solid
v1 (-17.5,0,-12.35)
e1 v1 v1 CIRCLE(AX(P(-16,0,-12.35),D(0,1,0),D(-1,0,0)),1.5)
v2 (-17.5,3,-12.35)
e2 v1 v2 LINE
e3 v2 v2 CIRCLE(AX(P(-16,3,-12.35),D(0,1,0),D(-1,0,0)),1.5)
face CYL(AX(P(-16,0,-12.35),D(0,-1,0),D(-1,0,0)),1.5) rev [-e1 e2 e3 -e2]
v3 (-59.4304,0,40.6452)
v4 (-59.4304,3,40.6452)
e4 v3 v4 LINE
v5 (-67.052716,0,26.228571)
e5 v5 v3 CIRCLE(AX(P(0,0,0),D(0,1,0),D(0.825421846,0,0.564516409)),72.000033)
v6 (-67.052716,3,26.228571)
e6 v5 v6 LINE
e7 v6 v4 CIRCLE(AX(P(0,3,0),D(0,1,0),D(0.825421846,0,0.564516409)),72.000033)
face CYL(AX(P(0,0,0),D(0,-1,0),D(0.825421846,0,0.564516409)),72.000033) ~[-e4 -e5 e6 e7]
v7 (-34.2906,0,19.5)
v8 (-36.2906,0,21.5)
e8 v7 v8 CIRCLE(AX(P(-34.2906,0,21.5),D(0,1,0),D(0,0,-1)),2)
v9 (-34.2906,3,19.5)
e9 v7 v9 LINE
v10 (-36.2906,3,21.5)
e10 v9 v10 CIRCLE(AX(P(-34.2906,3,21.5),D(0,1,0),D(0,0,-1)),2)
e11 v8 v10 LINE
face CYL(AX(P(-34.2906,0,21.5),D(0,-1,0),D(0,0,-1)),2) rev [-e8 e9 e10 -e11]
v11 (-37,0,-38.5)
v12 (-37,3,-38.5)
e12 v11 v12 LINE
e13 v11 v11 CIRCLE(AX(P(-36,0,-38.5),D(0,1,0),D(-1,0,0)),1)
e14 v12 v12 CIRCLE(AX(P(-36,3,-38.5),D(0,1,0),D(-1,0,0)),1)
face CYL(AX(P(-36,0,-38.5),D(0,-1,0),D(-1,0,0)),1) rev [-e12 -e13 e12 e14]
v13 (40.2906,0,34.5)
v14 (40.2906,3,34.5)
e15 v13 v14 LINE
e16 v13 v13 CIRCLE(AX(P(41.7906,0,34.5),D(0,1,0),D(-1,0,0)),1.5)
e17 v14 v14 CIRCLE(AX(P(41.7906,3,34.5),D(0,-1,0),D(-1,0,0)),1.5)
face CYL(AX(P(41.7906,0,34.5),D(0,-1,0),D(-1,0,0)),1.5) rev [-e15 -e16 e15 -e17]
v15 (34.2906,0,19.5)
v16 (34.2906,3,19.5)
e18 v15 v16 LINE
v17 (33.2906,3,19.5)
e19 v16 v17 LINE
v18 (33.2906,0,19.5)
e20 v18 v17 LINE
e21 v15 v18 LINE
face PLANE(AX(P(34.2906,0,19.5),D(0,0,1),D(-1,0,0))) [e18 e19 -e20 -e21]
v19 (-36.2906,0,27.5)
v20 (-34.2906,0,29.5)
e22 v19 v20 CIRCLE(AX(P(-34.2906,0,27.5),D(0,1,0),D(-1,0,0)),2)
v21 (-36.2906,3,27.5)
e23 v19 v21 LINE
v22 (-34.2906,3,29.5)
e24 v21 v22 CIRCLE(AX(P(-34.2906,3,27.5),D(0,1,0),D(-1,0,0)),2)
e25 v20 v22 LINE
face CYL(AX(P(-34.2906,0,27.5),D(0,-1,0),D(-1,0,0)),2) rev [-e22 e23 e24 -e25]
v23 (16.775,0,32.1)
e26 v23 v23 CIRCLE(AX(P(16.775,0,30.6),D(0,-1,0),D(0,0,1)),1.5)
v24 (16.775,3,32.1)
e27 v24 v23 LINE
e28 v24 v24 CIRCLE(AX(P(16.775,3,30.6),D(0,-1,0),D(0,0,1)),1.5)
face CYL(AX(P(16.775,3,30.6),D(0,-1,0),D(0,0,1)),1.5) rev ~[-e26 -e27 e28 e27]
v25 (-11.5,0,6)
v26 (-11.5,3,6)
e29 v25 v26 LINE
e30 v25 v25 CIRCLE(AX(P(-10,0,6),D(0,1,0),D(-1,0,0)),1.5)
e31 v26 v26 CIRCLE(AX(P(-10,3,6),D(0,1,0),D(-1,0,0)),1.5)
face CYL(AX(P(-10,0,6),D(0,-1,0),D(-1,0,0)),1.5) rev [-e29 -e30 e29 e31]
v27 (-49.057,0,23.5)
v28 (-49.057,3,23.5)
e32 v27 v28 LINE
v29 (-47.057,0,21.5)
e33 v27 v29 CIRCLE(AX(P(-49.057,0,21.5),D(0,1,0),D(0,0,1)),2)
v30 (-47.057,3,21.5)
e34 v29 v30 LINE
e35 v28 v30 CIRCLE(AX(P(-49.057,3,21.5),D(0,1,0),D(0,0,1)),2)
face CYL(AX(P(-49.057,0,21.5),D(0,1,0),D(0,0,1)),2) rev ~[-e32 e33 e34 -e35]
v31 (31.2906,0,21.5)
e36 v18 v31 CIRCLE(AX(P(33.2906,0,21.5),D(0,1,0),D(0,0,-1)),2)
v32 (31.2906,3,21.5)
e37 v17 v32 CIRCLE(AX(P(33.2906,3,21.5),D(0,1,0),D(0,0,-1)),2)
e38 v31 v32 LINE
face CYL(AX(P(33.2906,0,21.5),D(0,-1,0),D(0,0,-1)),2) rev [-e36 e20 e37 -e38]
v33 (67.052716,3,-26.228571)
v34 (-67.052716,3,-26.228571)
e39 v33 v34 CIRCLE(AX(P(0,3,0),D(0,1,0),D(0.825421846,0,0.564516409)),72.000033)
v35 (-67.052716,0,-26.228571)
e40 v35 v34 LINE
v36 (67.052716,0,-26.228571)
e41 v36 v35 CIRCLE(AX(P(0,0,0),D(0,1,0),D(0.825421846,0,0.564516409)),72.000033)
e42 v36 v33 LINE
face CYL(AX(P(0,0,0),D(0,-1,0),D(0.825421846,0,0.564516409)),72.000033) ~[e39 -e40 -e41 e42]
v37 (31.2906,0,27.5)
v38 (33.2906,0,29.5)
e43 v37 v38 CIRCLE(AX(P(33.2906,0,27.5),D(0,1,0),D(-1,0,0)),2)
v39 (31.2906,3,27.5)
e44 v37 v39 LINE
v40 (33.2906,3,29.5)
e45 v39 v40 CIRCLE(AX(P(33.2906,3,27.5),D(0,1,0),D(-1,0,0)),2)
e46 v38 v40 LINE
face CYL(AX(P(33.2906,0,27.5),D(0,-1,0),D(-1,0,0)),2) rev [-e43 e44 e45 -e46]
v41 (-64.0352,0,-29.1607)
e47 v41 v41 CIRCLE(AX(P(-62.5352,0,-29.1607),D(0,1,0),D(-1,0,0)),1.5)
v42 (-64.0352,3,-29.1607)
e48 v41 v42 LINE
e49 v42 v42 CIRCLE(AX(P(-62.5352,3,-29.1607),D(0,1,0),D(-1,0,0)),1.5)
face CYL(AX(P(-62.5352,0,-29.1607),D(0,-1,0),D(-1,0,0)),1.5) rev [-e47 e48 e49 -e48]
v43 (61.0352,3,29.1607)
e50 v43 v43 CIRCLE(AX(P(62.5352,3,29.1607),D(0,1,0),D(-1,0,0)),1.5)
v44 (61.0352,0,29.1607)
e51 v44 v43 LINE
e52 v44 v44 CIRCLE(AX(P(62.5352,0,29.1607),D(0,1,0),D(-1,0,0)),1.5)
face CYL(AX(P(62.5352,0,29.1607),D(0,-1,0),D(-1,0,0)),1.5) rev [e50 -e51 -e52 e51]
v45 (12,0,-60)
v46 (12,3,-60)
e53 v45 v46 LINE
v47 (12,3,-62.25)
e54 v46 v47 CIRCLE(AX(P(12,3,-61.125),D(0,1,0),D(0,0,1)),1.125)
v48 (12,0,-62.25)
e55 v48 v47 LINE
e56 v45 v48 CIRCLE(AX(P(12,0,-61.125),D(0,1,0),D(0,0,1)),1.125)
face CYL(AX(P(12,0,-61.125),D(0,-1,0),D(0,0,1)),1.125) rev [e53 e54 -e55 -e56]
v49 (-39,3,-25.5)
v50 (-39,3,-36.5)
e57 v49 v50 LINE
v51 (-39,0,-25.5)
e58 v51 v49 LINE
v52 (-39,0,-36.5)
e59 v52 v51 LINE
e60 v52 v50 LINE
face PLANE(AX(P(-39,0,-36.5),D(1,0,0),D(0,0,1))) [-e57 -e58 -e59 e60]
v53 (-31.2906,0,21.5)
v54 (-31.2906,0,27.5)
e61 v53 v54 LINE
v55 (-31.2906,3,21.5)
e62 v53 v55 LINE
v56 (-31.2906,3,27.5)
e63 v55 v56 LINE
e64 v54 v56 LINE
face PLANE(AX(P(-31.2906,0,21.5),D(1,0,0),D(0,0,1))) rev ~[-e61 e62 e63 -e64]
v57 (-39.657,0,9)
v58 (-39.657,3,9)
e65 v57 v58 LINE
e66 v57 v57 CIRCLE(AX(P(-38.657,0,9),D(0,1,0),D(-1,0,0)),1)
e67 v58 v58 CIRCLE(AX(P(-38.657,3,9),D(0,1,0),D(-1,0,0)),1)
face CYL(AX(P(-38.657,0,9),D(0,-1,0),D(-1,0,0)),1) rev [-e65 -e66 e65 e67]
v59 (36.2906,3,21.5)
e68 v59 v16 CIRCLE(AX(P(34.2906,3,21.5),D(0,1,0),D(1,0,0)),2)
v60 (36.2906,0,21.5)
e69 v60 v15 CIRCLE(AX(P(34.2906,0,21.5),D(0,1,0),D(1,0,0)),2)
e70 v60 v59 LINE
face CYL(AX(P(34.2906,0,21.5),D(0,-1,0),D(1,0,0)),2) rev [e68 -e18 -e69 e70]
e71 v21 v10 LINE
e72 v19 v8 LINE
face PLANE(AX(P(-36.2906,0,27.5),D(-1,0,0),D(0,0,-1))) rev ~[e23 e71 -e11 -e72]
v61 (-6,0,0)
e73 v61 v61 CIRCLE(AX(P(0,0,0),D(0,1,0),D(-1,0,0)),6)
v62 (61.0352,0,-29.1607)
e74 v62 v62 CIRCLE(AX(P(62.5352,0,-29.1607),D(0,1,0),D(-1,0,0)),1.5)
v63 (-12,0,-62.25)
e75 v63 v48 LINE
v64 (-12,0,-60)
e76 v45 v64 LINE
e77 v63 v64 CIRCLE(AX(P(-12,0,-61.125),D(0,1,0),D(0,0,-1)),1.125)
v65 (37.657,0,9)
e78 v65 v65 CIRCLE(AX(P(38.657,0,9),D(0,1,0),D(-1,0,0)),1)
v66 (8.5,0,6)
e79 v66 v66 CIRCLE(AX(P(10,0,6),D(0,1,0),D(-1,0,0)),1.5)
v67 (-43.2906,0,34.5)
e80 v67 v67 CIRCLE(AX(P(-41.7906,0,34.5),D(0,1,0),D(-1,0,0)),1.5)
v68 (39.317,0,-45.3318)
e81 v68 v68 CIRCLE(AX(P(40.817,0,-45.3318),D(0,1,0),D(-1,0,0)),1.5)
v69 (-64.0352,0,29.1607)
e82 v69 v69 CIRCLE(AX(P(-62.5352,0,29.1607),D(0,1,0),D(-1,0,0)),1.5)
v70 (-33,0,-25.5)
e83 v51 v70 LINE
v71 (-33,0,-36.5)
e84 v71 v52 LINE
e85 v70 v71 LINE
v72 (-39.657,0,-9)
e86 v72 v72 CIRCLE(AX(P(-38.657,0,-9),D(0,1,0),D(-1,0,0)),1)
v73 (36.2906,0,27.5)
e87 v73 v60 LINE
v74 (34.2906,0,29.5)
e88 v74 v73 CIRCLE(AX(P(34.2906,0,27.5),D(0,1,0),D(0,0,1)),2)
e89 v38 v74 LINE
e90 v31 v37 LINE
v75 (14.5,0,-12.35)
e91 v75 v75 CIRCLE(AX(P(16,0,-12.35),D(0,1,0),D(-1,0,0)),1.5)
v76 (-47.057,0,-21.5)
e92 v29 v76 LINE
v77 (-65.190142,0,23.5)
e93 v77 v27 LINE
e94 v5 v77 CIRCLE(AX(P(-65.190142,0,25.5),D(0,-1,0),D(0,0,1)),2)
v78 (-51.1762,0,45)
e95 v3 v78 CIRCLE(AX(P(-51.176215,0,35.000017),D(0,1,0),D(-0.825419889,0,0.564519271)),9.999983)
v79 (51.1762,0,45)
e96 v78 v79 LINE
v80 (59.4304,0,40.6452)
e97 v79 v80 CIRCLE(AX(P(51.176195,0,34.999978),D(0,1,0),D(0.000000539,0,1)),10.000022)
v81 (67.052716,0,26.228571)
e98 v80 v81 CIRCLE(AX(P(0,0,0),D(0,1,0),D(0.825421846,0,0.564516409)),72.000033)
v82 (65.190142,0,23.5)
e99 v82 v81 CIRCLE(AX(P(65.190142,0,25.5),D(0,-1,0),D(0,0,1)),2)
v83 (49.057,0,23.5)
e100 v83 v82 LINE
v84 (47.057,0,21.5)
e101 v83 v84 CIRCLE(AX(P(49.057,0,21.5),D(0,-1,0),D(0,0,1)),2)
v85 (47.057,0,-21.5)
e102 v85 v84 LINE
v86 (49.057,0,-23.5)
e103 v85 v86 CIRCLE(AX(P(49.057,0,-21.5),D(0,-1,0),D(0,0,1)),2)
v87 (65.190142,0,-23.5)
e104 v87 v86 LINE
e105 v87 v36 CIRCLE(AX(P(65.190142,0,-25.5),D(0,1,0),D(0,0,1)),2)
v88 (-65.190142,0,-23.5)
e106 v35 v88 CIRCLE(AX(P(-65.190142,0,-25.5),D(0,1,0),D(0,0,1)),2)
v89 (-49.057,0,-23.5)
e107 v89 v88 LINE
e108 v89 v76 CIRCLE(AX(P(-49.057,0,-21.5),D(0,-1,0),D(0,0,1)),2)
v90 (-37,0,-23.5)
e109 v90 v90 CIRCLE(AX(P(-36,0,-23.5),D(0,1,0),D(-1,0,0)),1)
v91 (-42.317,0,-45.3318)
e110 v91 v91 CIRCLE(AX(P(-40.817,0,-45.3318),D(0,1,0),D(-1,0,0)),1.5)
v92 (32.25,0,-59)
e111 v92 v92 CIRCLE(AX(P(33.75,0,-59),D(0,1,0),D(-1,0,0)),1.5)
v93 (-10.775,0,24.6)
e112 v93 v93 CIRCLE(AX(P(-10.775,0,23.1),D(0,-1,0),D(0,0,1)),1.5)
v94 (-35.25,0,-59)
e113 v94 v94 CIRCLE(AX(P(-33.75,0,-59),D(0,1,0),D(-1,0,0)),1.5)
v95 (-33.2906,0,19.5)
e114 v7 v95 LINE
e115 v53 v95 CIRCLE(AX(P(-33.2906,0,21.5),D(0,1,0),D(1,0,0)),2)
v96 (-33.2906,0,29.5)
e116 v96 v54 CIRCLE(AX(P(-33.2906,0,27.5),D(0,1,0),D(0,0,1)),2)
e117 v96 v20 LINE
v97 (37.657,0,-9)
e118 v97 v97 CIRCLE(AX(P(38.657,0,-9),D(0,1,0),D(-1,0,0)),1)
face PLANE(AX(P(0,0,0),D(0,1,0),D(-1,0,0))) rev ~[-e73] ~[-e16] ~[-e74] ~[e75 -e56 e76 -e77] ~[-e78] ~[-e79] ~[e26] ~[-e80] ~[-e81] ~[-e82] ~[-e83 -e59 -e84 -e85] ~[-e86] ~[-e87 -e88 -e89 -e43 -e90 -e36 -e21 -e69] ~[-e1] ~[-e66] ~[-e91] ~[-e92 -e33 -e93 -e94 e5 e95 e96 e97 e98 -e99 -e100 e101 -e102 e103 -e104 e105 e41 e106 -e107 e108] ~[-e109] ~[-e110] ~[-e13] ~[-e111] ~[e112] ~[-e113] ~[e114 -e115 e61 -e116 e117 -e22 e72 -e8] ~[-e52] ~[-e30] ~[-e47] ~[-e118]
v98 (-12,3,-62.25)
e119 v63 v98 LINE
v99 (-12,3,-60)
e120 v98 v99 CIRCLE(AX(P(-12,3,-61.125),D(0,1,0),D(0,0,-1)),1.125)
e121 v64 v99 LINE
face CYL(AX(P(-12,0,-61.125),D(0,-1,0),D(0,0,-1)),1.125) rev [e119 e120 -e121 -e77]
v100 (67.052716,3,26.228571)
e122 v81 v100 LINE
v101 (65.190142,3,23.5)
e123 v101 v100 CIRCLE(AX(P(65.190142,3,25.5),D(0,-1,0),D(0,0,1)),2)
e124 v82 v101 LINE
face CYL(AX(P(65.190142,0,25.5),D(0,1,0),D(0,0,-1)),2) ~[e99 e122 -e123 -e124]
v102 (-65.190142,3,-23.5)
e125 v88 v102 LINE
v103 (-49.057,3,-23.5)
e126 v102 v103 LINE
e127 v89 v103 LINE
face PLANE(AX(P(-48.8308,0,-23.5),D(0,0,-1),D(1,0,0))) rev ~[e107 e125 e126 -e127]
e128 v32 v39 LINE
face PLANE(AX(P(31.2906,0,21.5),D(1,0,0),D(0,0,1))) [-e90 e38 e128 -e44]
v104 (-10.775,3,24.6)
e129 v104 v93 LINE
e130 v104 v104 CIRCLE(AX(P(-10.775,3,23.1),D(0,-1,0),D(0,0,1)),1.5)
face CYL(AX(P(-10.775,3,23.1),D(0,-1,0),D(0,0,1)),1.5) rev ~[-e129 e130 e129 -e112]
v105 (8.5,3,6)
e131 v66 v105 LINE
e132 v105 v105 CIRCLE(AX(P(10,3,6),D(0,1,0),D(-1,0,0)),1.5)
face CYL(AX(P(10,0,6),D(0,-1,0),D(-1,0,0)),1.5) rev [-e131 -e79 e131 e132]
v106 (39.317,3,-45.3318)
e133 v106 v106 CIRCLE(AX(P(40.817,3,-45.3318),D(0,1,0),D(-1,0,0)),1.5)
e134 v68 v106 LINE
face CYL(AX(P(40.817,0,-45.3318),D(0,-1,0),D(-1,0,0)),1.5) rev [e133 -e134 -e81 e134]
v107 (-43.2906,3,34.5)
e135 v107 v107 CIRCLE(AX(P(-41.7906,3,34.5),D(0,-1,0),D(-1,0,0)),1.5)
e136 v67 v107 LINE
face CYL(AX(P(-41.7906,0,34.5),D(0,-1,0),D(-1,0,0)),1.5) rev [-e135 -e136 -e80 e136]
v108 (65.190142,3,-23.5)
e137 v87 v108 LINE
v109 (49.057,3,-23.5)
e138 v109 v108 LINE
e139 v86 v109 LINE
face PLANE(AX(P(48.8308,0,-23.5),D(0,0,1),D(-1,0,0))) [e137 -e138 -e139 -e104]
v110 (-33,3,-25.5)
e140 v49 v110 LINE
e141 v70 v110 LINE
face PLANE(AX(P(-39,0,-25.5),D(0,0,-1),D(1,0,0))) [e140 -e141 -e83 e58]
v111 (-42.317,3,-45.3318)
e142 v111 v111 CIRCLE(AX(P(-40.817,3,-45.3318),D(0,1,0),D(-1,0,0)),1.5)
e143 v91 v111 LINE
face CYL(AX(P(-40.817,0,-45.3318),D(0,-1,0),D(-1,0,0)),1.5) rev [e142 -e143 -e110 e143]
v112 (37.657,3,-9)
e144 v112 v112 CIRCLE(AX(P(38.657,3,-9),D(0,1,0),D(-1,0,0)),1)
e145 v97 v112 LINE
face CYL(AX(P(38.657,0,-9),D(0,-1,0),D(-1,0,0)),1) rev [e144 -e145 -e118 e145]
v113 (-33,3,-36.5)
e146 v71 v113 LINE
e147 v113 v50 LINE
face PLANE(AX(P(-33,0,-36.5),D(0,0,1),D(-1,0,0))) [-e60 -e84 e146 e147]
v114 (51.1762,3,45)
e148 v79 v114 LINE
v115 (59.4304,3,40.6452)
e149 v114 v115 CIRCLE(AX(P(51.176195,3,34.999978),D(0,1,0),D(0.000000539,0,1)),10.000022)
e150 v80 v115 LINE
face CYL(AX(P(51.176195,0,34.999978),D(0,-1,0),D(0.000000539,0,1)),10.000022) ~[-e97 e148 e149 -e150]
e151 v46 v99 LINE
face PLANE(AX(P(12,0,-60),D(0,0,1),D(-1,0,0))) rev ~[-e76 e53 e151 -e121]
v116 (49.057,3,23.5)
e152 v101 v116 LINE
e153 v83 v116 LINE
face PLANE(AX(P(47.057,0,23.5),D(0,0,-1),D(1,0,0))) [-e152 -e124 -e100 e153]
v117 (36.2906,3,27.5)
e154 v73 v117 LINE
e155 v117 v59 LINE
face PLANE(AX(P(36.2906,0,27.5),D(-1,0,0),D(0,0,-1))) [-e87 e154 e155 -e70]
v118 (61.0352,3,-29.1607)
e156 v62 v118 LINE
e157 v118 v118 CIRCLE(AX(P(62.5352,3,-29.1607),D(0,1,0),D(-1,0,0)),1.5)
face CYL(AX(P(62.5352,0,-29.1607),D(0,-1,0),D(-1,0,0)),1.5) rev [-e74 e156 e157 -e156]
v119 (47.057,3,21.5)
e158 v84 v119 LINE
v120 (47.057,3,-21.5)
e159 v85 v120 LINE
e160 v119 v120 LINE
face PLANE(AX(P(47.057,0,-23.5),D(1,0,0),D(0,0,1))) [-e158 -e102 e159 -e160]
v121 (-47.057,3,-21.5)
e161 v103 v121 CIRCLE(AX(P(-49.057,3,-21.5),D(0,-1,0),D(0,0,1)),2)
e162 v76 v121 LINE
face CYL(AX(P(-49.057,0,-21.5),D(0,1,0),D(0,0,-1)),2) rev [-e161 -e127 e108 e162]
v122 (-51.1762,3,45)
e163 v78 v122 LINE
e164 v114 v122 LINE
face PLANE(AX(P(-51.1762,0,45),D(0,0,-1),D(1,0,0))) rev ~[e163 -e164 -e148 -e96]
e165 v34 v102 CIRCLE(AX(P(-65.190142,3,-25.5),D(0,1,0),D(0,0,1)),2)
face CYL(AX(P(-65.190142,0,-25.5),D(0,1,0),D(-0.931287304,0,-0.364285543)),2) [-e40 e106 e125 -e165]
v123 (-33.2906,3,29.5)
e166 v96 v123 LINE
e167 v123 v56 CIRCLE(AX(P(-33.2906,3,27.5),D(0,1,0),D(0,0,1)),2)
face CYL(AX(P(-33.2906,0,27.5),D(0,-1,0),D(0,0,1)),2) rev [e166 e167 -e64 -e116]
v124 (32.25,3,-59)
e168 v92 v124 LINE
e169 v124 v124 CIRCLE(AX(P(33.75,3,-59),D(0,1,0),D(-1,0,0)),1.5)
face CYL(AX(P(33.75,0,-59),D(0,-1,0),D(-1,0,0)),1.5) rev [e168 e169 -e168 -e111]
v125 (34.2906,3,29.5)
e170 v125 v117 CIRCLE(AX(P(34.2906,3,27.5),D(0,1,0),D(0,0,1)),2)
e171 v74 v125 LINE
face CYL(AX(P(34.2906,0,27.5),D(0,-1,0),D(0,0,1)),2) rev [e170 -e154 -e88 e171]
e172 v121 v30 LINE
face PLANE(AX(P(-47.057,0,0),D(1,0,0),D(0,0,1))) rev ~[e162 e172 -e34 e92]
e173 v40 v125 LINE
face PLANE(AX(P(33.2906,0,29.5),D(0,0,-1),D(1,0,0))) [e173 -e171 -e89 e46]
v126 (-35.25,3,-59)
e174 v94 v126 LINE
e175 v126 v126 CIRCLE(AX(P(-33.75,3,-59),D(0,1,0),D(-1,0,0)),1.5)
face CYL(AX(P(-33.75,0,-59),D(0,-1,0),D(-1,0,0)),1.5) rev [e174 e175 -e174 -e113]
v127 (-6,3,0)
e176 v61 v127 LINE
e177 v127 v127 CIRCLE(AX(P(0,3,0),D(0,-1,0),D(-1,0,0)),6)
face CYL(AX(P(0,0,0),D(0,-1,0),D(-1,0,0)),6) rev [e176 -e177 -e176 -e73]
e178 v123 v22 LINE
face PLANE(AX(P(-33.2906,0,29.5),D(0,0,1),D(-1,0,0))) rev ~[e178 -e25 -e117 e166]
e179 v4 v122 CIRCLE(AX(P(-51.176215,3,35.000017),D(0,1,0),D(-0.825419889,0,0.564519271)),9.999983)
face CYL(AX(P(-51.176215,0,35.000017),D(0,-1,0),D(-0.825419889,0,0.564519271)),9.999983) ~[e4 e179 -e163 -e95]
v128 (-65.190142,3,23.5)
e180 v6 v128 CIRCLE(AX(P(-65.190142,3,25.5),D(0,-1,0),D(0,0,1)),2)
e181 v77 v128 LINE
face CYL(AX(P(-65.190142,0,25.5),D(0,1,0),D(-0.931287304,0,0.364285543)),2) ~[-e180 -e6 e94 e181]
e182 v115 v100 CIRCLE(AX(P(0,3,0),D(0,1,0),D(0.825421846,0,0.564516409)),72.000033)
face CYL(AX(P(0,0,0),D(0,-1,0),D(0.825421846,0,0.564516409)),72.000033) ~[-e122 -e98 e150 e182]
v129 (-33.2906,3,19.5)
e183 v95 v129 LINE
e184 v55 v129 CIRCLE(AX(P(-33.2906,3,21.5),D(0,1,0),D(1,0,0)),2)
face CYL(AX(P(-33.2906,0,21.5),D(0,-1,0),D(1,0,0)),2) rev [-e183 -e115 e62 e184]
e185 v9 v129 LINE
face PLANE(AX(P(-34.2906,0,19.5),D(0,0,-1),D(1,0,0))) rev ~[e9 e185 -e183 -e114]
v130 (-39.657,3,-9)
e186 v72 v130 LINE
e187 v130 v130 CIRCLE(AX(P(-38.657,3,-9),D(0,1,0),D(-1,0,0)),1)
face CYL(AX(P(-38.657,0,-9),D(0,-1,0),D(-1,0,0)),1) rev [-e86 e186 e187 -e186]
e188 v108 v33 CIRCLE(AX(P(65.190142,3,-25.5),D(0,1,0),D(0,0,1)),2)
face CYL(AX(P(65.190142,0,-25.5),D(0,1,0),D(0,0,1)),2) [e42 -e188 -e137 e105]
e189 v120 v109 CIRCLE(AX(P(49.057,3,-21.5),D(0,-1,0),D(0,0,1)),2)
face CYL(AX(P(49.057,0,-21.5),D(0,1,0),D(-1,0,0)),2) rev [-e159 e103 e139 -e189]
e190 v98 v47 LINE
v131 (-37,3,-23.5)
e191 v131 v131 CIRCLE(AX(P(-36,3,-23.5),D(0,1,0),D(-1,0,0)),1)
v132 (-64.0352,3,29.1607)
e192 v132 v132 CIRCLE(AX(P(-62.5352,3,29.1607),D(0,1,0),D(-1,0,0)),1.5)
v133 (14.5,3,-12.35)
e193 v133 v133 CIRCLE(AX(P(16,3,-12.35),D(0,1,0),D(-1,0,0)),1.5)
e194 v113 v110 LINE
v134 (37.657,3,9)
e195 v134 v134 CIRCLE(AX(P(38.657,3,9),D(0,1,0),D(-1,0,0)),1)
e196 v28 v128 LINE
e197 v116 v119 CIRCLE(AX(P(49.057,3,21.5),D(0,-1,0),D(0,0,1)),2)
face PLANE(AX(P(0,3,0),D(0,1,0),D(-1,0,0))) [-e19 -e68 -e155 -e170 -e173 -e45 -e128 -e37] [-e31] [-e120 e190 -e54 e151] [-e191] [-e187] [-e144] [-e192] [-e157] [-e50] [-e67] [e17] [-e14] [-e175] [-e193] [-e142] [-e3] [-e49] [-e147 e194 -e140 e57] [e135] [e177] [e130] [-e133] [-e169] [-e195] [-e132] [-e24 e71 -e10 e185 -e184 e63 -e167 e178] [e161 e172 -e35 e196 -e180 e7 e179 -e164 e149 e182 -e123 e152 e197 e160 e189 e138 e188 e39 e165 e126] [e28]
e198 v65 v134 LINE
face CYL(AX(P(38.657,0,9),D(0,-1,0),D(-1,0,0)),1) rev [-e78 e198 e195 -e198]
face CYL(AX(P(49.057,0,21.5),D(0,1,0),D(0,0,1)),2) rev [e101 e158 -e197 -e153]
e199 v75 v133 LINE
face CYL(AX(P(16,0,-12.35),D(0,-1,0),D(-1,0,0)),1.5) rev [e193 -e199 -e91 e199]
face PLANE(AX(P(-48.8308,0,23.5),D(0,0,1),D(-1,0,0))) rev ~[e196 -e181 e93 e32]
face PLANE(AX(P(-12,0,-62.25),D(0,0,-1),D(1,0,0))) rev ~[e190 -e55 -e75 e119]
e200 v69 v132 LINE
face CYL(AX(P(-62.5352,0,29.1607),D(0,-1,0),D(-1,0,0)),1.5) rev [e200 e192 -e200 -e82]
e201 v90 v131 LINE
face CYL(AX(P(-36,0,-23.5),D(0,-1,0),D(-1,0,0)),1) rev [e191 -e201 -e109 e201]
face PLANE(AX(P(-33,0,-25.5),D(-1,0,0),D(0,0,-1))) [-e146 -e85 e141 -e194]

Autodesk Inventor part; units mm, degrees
ref_plane "YZ Plane" through (0, 0, 0) normal (1, 0, 0) x (0, 1, 0)
ref_plane "XZ Plane" through (0, 0, 0) normal (0, 1, 0) x (-1, 0, 0)
ref_plane "XY Plane" through (0, 0, 0) normal (0, 0, 1) x (1, 0, 0)
sketch "Sketch1" plane through (0, 0, 0) normal (0, 1, 0) x (-1, 0, 0)
  line L0 (51.1762, 45) -> (-51.1762, 45)
  line L1 (12, -62.25) -> (-12, -62.25)
  line L2 (-12, -60) -> (12, -60)
  circle A0 centre (0, 0) radius 6
  circle A1 centre (-44.3523, -52.8571) radius 1.5 construction
  circle A2 centre (-41.7906, 34.5) radius 1.5
  circle A3 centre (-62.5352, -29.1607) radius 1.5
  circle A4 centre (62.5352, -29.1607) radius 1.5
  circle A5 centre (-20, 41.5) radius 1.5 construction
  circle A6 centre (41.7906, 34.5) radius 1.5
  circle A7 centre (20, 41.5) radius 1.5 construction
  circle A8 centre (44.3523, -52.8571) radius 1.5 construction
  arc A9 (12, -62.25) -> (12, -60) centre (12, -61.125) ccw
  arc A10 (-12, -60) -> (-12, -62.25) centre (-12, -61.125) ccw
  circle A11 centre (0, 0) radius 69 construction
  line L3 (0, 0) -> (0, 45)
  arc A12 (-59.4304, 40.6452) -> (59.4304, 40.6452) centre (0, 0) ccw
  arc A13 (-51.1762, 45) -> (-59.4304, 40.6452) centre (-51.1762, 35) ccw
  arc A14 (59.4304, 40.6452) -> (51.1762, 45) centre (51.1762, 35) ccw
  line L4 (0, 0) -> (-72, 0)
  line L5 (0, 0) -> (62.5352, -29.1607) construction
  line L6 (0, 0) -> (69, 0)
  line L7 (0, 0) -> (41.7906, 34.5) construction
  line L8 (47.057, 23.5) -> (68.057, 23.5)
  line L9 (68.057, 23.5) -> (68.057, -23.5)
  line L10 (68.057, -23.5) -> (47.057, -23.5)
  line L11 (47.057, -23.5) -> (47.057, 23.5)
  line L12 (47.057, 23.5) -> (68.057, -23.5) construction
  line L13 (68.057, 23.5) -> (47.057, -23.5) construction
  circle A15 centre (38.657, -9) radius 1
  circle A16 centre (38.657, 9) radius 1
  circle A17 centre (16, -12.35) radius 1.5
  circle A18 centre (33.75, -59) radius 1.5
  circle A19 centre (-16, -12.35) radius 1.5
  circle A20 centre (-33.75, -59) radius 1.5
  line L14 (-47.057, 23.5) -> (-68.057, 23.5)
  line L15 (-68.057, 23.5) -> (-68.057, -23.5)
  line L16 (-68.057, -23.5) -> (-47.057, -23.5)
  line L17 (-47.057, -23.5) -> (-47.057, 23.5)
  circle A21 centre (-38.657, -9) radius 1
  circle A22 centre (-38.657, 9) radius 1
  line L18 (39, -25.5) -> (33, -25.5)
  line L19 (33, -25.5) -> (33, -36.5)
  line L20 (33, -36.5) -> (39, -36.5)
  line L21 (39, -36.5) -> (39, -25.5)
  circle A23 centre (36, -38.5) radius 1
  line L22 (39, -31) -> (33, -31)
  circle A24 centre (36, -23.5) radius 1
  circle A25 centre (40.817, -45.3318) radius 1.5
  circle A26 centre (-41.7906, 34.5) radius 1.5
  circle A27 centre (-40.817, -45.3318) radius 1.5
  line L23 (41.7906, 34.5) -> (41.7906, 39.5)
  line L24 (41.7906, 39.5) -> (60.1976, 39.5) construction
  line L25 (0, 0) -> (44.3523, -52.8571) construction
  circle A28 centre (62.5352, 29.1607) radius 1.5
  circle A29 centre (-62.5352, 29.1607) radius 1.5
  line L26 (40.817, -45.3318) -> (0, 0) construction
  line L27 (0, 0) -> (62.5352, 29.1607) construction
  circle A30 centre (10, 6) radius 1.5
  circle A31 centre (-10, 6) radius 1.5
  line L28 (33.2906, 29.5) -> (34.2906, 29.5)
  line L29 (36.2906, 27.5) -> (36.2906, 21.5)
  line L30 (34.2906, 19.5) -> (33.2906, 19.5)
  line L31 (31.2906, 21.5) -> (31.2906, 27.5)
  arc A32 (34.2906, 19.5) -> (36.2906, 21.5) centre (34.2906, 21.5) ccw
  arc A33 (31.2906, 21.5) -> (33.2906, 19.5) centre (33.2906, 21.5) ccw
  arc A34 (33.2906, 29.5) -> (31.2906, 27.5) centre (33.2906, 27.5) ccw
  arc A35 (36.2906, 27.5) -> (34.2906, 29.5) centre (34.2906, 27.5) ccw
  line L32 (0, 0) -> (-41.7906, 34.5) construction
  line L33 (-33.2906, 29.5) -> (-34.2906, 29.5)
  line L34 (-36.2906, 27.5) -> (-36.2906, 21.5)
  line L35 (-34.2906, 19.5) -> (-33.2906, 19.5)
  line L36 (-31.2906, 21.5) -> (-31.2906, 27.5)
  arc A36 (-36.2906, 21.5) -> (-34.2906, 19.5) centre (-34.2906, 21.5) ccw
  arc A37 (-33.2906, 19.5) -> (-31.2906, 21.5) centre (-33.2906, 21.5) ccw
  arc A38 (-31.2906, 27.5) -> (-33.2906, 29.5) centre (-33.2906, 27.5) ccw
  arc A39 (-34.2906, 29.5) -> (-36.2906, 27.5) centre (-34.2906, 27.5) ccw
  circle A40 centre (0, 0) radius 54.1913
  circle A41 centre (0, 0) radius 61 construction
  point P0 (-5.9883, -61.0615)
  point P1 (57.557, 0)
  point P2 (68.057, 23.5)
  point P3 (-68.057, 23.5)
  point P4 (-68.057, -23.5)
  point P5 (0, 34.5)
  point P6 (36, -36.5)
  point P7 (55.8424, 43.8445)
  point P8 (0, -6)
  point P9 (31.2906, 29.5)
  point P10 (31.2906, 19.5)
  point P11 (33.7906, 29.5)
  point P12 (-31.2906, 29.5)
  point P13 (-31.2906, 19.5)
  point P14 (-33.7906, 29.5)
  dimension "d12" = 12
  dimension "d398" = 108.3827
  dimension "d0" = 3
  dimension "d1" = 3
  dimension "d4" = 3
  dimension "d15" = 24
  dimension "d16" = 3
  dimension "d62" = 2.25
  dimension "d148" = 3.5
  dimension "d276" = 138
  dimension "d285" = 144
  dimension "d286" = 45
  dimension "d287" = 10
  dimension "d288" = 12
  dimension "d289" = 40
  dimension "d290" = 3.5
  dimension "d291" = 20
  dimension "d293" = 25
  dimension "d300" = 21
  dimension "d301" = 47
  dimension "d304" = 2
  dimension "d305" = 8.4
  dimension "d306" = 9
  dimension "d307" = 3
  dimension "d311" = 16
  dimension "d318" = 33.75
  dimension "d323" = 11
  dimension "d324" = 6
  dimension "d325" = 2
  dimension "d326" = 2
  dimension "d327" = 15
  dimension "d338" = 33
  dimension "d342" = 5
  dimension "d345" = 11
  dimension "d346" = 39.541
  dimension "d348" = 40
  dimension "d350" = 61
  dimension "d351" = 48
  dimension "d352" = 3
  dimension "d353" = 12.35
  dimension "d354" = 59
  dimension "d355" = 25
  dimension "d356" = 60
  dimension "d358" = 68.057
  dimension "d371" = 3
  dimension "d372" = 10
  dimension "d373" = 6
  dimension "d393" = 5
  dimension "d394" = 10
  dimension "d395" = 5
  dimension "d396" = 2
  dimension "d397" = 8
extrude "Extrusion1" add sketch "Sketch1" along normal blind 3 contours A14 A12 L8 A40 A6 L0 | A40 A6 L8 L11 L6 A0 L3 L0 | L3 A0 L4 L17 L14 A40 A2 L0 | A40 A2 L14 A12 A13 L0 | A12 L16 A40 L10 | L6 L11 L10 A40 L16 L17 L4 A0
sketch "Sketch3" plane through (0, 3, 0) normal (0, 1, 0) x (1, 0, 0)
  line L0 (3, 0) -> (3, -20)
  circle A0 centre (-10.775, -23.1) radius 1.5
  line L1 (-51.1762, -45) -> (51.1762, -45) projected
  circle A1 centre (16.775, -30.6) radius 1.5
  point P0 (0, 0)
  dimension "d377" = 20
  dimension "d378" = 3
  dimension "d379" = 3
  dimension "d380" = 13.775
  dimension "d381" = 21.9
  dimension "d383" = 13.775
  dimension "d384" = 3
  dimension "d385" = 14.4
fillet "Fillet1" radius 2 1 edges at (68.057, 1.5, 23.5)
fillet "Fillet2" radius 2 7 edges at (68.057, 1.5, -23.5) (-68.057, 1.5, -23.5) (-68.057, 1.5, 23.5) (-47.057, 1.5, -23.5) (-47.057, 1.5, 23.5) (47.057, 1.5, -23.5) (47.057, 1.5, 23.5)
sketch "Sketch2" plane through (0, 3, 0) normal (0, 1, 0) x (1, 0, 0)
  circle A0 centre (62.5352, 29.1607) radius 1.5 projected
  circle A1 centre (62.5352, -29.1607) radius 1.5 projected
  line L0 (62.5352, 29.1607) -> (62.5352, -29.1607)
  line L1 (62.5352, -29.1607) -> (62.5352, -30.3154)
  line L2 (62.5352, -27.1607) -> (61.0352, -27.1607)
  line L3 (-51.1762, -45) -> (51.1762, -45) projected
  line L4 (0, -45) -> (0, 72)
  arc A2 (67.0527, 26.2286) -> (-67.0527, 26.2286) centre (0, 0) ccw projected
  line L5 (59.4352, -31.1607) -> (59.4352, -27.1607)
  line L6 (59.4352, -27.1607) -> (61.0352, -27.1607)
  line L7 (62.5352, -27.1607) -> (62.5352, -30.3154)
  line L8 (59.4352, -31.1607) -> (59.4352, -32.6607)
  line L9 (59.4352, -32.6607) -> (62.5352, -32.6607)
  line L10 (62.5352, -32.6607) -> (62.5352, -30.3154)
  line L11 (62.5352, -29.1607) -> (59.4352, -29.1607)
  line L12 (-70, 0) -> (70, 0)
  line L13 (62.5352, 29.1607) -> (62.5352, 30.3154)
  line L14 (62.5352, 27.1607) -> (61.0352, 27.1607)
  line L15 (59.4352, 31.1607) -> (59.4352, 27.1607)
  line L16 (59.4352, 27.1607) -> (61.0352, 27.1607)
  line L17 (62.5352, 27.1607) -> (62.5352, 30.3154)
  line L18 (59.4352, 31.1607) -> (59.4352, 32.6607)
  line L19 (59.4352, 32.6607) -> (62.5352, 32.6607)
  line L20 (62.5352, 32.6607) -> (62.5352, 30.3154)
  line L21 (-62.5352, -27.1607) -> (-61.0352, -27.1607)
  line L22 (-59.4352, -31.1607) -> (-59.4352, -27.1607)
  line L23 (-59.4352, -27.1607) -> (-61.0352, -27.1607)
  line L24 (-62.5352, -27.1607) -> (-62.5352, -30.3154)
  line L25 (-59.4352, -31.1607) -> (-59.4352, -32.6607)
  line L26 (-59.4352, -32.6607) -> (-62.5352, -32.6607)
  line L27 (-62.5352, -32.6607) -> (-62.5352, -30.3154)
  line L28 (-62.5352, -29.1607) -> (-59.4352, -29.1607)
  line L29 (-59.4352, 32.6607) -> (-62.5352, 32.6607)
  line L30 (-59.4352, 31.1607) -> (-59.4352, 32.6607)
  line L31 (-59.4352, 31.1607) -> (-59.4352, 27.1607)
  line L32 (-59.4352, 27.1607) -> (-61.0352, 27.1607)
  line L33 (-62.5352, 27.1607) -> (-61.0352, 27.1607)
  line L34 (-62.5352, 32.6607) -> (-62.5352, 30.3154)
  line L35 (-62.5352, 29.1607) -> (-62.5352, 30.3154)
  line L36 (-62.5352, 27.1607) -> (-62.5352, 30.3154)
  line L37 (-62.5352, 29.1607) -> (-59.4352, 29.1607)
  line L38 (62.5352, 29.1607) -> (59.4352, 29.1607)
  point P0 (62.5352, 27.1607)
  point P1 (62.5352, 27.6607)
  point P2 (60.7226, 29.8154)
  point P3 (60.7226, -29.8154)
  point P4 (62.5352, -27.6607)
  point P5 (62.5352, -27.1607)
  point P6 (62.5352, 30.6607)
  point P7 (62.5352, -30.6607)
  dimension "d363" = 1.5
  dimension "d365" = 4
  dimension "d366" = 1.5
  dimension "d367" = 3.1
  dimension "d368" = 1.6
extrude "Extrusion2" [suppressed]
hole "Hole1" at (-10.775, 3, 23.1) at (16.775, 3, 30.6) direction (0, -1, 0) diameter 3 end through all
properties part number "base_chasis_v6"
